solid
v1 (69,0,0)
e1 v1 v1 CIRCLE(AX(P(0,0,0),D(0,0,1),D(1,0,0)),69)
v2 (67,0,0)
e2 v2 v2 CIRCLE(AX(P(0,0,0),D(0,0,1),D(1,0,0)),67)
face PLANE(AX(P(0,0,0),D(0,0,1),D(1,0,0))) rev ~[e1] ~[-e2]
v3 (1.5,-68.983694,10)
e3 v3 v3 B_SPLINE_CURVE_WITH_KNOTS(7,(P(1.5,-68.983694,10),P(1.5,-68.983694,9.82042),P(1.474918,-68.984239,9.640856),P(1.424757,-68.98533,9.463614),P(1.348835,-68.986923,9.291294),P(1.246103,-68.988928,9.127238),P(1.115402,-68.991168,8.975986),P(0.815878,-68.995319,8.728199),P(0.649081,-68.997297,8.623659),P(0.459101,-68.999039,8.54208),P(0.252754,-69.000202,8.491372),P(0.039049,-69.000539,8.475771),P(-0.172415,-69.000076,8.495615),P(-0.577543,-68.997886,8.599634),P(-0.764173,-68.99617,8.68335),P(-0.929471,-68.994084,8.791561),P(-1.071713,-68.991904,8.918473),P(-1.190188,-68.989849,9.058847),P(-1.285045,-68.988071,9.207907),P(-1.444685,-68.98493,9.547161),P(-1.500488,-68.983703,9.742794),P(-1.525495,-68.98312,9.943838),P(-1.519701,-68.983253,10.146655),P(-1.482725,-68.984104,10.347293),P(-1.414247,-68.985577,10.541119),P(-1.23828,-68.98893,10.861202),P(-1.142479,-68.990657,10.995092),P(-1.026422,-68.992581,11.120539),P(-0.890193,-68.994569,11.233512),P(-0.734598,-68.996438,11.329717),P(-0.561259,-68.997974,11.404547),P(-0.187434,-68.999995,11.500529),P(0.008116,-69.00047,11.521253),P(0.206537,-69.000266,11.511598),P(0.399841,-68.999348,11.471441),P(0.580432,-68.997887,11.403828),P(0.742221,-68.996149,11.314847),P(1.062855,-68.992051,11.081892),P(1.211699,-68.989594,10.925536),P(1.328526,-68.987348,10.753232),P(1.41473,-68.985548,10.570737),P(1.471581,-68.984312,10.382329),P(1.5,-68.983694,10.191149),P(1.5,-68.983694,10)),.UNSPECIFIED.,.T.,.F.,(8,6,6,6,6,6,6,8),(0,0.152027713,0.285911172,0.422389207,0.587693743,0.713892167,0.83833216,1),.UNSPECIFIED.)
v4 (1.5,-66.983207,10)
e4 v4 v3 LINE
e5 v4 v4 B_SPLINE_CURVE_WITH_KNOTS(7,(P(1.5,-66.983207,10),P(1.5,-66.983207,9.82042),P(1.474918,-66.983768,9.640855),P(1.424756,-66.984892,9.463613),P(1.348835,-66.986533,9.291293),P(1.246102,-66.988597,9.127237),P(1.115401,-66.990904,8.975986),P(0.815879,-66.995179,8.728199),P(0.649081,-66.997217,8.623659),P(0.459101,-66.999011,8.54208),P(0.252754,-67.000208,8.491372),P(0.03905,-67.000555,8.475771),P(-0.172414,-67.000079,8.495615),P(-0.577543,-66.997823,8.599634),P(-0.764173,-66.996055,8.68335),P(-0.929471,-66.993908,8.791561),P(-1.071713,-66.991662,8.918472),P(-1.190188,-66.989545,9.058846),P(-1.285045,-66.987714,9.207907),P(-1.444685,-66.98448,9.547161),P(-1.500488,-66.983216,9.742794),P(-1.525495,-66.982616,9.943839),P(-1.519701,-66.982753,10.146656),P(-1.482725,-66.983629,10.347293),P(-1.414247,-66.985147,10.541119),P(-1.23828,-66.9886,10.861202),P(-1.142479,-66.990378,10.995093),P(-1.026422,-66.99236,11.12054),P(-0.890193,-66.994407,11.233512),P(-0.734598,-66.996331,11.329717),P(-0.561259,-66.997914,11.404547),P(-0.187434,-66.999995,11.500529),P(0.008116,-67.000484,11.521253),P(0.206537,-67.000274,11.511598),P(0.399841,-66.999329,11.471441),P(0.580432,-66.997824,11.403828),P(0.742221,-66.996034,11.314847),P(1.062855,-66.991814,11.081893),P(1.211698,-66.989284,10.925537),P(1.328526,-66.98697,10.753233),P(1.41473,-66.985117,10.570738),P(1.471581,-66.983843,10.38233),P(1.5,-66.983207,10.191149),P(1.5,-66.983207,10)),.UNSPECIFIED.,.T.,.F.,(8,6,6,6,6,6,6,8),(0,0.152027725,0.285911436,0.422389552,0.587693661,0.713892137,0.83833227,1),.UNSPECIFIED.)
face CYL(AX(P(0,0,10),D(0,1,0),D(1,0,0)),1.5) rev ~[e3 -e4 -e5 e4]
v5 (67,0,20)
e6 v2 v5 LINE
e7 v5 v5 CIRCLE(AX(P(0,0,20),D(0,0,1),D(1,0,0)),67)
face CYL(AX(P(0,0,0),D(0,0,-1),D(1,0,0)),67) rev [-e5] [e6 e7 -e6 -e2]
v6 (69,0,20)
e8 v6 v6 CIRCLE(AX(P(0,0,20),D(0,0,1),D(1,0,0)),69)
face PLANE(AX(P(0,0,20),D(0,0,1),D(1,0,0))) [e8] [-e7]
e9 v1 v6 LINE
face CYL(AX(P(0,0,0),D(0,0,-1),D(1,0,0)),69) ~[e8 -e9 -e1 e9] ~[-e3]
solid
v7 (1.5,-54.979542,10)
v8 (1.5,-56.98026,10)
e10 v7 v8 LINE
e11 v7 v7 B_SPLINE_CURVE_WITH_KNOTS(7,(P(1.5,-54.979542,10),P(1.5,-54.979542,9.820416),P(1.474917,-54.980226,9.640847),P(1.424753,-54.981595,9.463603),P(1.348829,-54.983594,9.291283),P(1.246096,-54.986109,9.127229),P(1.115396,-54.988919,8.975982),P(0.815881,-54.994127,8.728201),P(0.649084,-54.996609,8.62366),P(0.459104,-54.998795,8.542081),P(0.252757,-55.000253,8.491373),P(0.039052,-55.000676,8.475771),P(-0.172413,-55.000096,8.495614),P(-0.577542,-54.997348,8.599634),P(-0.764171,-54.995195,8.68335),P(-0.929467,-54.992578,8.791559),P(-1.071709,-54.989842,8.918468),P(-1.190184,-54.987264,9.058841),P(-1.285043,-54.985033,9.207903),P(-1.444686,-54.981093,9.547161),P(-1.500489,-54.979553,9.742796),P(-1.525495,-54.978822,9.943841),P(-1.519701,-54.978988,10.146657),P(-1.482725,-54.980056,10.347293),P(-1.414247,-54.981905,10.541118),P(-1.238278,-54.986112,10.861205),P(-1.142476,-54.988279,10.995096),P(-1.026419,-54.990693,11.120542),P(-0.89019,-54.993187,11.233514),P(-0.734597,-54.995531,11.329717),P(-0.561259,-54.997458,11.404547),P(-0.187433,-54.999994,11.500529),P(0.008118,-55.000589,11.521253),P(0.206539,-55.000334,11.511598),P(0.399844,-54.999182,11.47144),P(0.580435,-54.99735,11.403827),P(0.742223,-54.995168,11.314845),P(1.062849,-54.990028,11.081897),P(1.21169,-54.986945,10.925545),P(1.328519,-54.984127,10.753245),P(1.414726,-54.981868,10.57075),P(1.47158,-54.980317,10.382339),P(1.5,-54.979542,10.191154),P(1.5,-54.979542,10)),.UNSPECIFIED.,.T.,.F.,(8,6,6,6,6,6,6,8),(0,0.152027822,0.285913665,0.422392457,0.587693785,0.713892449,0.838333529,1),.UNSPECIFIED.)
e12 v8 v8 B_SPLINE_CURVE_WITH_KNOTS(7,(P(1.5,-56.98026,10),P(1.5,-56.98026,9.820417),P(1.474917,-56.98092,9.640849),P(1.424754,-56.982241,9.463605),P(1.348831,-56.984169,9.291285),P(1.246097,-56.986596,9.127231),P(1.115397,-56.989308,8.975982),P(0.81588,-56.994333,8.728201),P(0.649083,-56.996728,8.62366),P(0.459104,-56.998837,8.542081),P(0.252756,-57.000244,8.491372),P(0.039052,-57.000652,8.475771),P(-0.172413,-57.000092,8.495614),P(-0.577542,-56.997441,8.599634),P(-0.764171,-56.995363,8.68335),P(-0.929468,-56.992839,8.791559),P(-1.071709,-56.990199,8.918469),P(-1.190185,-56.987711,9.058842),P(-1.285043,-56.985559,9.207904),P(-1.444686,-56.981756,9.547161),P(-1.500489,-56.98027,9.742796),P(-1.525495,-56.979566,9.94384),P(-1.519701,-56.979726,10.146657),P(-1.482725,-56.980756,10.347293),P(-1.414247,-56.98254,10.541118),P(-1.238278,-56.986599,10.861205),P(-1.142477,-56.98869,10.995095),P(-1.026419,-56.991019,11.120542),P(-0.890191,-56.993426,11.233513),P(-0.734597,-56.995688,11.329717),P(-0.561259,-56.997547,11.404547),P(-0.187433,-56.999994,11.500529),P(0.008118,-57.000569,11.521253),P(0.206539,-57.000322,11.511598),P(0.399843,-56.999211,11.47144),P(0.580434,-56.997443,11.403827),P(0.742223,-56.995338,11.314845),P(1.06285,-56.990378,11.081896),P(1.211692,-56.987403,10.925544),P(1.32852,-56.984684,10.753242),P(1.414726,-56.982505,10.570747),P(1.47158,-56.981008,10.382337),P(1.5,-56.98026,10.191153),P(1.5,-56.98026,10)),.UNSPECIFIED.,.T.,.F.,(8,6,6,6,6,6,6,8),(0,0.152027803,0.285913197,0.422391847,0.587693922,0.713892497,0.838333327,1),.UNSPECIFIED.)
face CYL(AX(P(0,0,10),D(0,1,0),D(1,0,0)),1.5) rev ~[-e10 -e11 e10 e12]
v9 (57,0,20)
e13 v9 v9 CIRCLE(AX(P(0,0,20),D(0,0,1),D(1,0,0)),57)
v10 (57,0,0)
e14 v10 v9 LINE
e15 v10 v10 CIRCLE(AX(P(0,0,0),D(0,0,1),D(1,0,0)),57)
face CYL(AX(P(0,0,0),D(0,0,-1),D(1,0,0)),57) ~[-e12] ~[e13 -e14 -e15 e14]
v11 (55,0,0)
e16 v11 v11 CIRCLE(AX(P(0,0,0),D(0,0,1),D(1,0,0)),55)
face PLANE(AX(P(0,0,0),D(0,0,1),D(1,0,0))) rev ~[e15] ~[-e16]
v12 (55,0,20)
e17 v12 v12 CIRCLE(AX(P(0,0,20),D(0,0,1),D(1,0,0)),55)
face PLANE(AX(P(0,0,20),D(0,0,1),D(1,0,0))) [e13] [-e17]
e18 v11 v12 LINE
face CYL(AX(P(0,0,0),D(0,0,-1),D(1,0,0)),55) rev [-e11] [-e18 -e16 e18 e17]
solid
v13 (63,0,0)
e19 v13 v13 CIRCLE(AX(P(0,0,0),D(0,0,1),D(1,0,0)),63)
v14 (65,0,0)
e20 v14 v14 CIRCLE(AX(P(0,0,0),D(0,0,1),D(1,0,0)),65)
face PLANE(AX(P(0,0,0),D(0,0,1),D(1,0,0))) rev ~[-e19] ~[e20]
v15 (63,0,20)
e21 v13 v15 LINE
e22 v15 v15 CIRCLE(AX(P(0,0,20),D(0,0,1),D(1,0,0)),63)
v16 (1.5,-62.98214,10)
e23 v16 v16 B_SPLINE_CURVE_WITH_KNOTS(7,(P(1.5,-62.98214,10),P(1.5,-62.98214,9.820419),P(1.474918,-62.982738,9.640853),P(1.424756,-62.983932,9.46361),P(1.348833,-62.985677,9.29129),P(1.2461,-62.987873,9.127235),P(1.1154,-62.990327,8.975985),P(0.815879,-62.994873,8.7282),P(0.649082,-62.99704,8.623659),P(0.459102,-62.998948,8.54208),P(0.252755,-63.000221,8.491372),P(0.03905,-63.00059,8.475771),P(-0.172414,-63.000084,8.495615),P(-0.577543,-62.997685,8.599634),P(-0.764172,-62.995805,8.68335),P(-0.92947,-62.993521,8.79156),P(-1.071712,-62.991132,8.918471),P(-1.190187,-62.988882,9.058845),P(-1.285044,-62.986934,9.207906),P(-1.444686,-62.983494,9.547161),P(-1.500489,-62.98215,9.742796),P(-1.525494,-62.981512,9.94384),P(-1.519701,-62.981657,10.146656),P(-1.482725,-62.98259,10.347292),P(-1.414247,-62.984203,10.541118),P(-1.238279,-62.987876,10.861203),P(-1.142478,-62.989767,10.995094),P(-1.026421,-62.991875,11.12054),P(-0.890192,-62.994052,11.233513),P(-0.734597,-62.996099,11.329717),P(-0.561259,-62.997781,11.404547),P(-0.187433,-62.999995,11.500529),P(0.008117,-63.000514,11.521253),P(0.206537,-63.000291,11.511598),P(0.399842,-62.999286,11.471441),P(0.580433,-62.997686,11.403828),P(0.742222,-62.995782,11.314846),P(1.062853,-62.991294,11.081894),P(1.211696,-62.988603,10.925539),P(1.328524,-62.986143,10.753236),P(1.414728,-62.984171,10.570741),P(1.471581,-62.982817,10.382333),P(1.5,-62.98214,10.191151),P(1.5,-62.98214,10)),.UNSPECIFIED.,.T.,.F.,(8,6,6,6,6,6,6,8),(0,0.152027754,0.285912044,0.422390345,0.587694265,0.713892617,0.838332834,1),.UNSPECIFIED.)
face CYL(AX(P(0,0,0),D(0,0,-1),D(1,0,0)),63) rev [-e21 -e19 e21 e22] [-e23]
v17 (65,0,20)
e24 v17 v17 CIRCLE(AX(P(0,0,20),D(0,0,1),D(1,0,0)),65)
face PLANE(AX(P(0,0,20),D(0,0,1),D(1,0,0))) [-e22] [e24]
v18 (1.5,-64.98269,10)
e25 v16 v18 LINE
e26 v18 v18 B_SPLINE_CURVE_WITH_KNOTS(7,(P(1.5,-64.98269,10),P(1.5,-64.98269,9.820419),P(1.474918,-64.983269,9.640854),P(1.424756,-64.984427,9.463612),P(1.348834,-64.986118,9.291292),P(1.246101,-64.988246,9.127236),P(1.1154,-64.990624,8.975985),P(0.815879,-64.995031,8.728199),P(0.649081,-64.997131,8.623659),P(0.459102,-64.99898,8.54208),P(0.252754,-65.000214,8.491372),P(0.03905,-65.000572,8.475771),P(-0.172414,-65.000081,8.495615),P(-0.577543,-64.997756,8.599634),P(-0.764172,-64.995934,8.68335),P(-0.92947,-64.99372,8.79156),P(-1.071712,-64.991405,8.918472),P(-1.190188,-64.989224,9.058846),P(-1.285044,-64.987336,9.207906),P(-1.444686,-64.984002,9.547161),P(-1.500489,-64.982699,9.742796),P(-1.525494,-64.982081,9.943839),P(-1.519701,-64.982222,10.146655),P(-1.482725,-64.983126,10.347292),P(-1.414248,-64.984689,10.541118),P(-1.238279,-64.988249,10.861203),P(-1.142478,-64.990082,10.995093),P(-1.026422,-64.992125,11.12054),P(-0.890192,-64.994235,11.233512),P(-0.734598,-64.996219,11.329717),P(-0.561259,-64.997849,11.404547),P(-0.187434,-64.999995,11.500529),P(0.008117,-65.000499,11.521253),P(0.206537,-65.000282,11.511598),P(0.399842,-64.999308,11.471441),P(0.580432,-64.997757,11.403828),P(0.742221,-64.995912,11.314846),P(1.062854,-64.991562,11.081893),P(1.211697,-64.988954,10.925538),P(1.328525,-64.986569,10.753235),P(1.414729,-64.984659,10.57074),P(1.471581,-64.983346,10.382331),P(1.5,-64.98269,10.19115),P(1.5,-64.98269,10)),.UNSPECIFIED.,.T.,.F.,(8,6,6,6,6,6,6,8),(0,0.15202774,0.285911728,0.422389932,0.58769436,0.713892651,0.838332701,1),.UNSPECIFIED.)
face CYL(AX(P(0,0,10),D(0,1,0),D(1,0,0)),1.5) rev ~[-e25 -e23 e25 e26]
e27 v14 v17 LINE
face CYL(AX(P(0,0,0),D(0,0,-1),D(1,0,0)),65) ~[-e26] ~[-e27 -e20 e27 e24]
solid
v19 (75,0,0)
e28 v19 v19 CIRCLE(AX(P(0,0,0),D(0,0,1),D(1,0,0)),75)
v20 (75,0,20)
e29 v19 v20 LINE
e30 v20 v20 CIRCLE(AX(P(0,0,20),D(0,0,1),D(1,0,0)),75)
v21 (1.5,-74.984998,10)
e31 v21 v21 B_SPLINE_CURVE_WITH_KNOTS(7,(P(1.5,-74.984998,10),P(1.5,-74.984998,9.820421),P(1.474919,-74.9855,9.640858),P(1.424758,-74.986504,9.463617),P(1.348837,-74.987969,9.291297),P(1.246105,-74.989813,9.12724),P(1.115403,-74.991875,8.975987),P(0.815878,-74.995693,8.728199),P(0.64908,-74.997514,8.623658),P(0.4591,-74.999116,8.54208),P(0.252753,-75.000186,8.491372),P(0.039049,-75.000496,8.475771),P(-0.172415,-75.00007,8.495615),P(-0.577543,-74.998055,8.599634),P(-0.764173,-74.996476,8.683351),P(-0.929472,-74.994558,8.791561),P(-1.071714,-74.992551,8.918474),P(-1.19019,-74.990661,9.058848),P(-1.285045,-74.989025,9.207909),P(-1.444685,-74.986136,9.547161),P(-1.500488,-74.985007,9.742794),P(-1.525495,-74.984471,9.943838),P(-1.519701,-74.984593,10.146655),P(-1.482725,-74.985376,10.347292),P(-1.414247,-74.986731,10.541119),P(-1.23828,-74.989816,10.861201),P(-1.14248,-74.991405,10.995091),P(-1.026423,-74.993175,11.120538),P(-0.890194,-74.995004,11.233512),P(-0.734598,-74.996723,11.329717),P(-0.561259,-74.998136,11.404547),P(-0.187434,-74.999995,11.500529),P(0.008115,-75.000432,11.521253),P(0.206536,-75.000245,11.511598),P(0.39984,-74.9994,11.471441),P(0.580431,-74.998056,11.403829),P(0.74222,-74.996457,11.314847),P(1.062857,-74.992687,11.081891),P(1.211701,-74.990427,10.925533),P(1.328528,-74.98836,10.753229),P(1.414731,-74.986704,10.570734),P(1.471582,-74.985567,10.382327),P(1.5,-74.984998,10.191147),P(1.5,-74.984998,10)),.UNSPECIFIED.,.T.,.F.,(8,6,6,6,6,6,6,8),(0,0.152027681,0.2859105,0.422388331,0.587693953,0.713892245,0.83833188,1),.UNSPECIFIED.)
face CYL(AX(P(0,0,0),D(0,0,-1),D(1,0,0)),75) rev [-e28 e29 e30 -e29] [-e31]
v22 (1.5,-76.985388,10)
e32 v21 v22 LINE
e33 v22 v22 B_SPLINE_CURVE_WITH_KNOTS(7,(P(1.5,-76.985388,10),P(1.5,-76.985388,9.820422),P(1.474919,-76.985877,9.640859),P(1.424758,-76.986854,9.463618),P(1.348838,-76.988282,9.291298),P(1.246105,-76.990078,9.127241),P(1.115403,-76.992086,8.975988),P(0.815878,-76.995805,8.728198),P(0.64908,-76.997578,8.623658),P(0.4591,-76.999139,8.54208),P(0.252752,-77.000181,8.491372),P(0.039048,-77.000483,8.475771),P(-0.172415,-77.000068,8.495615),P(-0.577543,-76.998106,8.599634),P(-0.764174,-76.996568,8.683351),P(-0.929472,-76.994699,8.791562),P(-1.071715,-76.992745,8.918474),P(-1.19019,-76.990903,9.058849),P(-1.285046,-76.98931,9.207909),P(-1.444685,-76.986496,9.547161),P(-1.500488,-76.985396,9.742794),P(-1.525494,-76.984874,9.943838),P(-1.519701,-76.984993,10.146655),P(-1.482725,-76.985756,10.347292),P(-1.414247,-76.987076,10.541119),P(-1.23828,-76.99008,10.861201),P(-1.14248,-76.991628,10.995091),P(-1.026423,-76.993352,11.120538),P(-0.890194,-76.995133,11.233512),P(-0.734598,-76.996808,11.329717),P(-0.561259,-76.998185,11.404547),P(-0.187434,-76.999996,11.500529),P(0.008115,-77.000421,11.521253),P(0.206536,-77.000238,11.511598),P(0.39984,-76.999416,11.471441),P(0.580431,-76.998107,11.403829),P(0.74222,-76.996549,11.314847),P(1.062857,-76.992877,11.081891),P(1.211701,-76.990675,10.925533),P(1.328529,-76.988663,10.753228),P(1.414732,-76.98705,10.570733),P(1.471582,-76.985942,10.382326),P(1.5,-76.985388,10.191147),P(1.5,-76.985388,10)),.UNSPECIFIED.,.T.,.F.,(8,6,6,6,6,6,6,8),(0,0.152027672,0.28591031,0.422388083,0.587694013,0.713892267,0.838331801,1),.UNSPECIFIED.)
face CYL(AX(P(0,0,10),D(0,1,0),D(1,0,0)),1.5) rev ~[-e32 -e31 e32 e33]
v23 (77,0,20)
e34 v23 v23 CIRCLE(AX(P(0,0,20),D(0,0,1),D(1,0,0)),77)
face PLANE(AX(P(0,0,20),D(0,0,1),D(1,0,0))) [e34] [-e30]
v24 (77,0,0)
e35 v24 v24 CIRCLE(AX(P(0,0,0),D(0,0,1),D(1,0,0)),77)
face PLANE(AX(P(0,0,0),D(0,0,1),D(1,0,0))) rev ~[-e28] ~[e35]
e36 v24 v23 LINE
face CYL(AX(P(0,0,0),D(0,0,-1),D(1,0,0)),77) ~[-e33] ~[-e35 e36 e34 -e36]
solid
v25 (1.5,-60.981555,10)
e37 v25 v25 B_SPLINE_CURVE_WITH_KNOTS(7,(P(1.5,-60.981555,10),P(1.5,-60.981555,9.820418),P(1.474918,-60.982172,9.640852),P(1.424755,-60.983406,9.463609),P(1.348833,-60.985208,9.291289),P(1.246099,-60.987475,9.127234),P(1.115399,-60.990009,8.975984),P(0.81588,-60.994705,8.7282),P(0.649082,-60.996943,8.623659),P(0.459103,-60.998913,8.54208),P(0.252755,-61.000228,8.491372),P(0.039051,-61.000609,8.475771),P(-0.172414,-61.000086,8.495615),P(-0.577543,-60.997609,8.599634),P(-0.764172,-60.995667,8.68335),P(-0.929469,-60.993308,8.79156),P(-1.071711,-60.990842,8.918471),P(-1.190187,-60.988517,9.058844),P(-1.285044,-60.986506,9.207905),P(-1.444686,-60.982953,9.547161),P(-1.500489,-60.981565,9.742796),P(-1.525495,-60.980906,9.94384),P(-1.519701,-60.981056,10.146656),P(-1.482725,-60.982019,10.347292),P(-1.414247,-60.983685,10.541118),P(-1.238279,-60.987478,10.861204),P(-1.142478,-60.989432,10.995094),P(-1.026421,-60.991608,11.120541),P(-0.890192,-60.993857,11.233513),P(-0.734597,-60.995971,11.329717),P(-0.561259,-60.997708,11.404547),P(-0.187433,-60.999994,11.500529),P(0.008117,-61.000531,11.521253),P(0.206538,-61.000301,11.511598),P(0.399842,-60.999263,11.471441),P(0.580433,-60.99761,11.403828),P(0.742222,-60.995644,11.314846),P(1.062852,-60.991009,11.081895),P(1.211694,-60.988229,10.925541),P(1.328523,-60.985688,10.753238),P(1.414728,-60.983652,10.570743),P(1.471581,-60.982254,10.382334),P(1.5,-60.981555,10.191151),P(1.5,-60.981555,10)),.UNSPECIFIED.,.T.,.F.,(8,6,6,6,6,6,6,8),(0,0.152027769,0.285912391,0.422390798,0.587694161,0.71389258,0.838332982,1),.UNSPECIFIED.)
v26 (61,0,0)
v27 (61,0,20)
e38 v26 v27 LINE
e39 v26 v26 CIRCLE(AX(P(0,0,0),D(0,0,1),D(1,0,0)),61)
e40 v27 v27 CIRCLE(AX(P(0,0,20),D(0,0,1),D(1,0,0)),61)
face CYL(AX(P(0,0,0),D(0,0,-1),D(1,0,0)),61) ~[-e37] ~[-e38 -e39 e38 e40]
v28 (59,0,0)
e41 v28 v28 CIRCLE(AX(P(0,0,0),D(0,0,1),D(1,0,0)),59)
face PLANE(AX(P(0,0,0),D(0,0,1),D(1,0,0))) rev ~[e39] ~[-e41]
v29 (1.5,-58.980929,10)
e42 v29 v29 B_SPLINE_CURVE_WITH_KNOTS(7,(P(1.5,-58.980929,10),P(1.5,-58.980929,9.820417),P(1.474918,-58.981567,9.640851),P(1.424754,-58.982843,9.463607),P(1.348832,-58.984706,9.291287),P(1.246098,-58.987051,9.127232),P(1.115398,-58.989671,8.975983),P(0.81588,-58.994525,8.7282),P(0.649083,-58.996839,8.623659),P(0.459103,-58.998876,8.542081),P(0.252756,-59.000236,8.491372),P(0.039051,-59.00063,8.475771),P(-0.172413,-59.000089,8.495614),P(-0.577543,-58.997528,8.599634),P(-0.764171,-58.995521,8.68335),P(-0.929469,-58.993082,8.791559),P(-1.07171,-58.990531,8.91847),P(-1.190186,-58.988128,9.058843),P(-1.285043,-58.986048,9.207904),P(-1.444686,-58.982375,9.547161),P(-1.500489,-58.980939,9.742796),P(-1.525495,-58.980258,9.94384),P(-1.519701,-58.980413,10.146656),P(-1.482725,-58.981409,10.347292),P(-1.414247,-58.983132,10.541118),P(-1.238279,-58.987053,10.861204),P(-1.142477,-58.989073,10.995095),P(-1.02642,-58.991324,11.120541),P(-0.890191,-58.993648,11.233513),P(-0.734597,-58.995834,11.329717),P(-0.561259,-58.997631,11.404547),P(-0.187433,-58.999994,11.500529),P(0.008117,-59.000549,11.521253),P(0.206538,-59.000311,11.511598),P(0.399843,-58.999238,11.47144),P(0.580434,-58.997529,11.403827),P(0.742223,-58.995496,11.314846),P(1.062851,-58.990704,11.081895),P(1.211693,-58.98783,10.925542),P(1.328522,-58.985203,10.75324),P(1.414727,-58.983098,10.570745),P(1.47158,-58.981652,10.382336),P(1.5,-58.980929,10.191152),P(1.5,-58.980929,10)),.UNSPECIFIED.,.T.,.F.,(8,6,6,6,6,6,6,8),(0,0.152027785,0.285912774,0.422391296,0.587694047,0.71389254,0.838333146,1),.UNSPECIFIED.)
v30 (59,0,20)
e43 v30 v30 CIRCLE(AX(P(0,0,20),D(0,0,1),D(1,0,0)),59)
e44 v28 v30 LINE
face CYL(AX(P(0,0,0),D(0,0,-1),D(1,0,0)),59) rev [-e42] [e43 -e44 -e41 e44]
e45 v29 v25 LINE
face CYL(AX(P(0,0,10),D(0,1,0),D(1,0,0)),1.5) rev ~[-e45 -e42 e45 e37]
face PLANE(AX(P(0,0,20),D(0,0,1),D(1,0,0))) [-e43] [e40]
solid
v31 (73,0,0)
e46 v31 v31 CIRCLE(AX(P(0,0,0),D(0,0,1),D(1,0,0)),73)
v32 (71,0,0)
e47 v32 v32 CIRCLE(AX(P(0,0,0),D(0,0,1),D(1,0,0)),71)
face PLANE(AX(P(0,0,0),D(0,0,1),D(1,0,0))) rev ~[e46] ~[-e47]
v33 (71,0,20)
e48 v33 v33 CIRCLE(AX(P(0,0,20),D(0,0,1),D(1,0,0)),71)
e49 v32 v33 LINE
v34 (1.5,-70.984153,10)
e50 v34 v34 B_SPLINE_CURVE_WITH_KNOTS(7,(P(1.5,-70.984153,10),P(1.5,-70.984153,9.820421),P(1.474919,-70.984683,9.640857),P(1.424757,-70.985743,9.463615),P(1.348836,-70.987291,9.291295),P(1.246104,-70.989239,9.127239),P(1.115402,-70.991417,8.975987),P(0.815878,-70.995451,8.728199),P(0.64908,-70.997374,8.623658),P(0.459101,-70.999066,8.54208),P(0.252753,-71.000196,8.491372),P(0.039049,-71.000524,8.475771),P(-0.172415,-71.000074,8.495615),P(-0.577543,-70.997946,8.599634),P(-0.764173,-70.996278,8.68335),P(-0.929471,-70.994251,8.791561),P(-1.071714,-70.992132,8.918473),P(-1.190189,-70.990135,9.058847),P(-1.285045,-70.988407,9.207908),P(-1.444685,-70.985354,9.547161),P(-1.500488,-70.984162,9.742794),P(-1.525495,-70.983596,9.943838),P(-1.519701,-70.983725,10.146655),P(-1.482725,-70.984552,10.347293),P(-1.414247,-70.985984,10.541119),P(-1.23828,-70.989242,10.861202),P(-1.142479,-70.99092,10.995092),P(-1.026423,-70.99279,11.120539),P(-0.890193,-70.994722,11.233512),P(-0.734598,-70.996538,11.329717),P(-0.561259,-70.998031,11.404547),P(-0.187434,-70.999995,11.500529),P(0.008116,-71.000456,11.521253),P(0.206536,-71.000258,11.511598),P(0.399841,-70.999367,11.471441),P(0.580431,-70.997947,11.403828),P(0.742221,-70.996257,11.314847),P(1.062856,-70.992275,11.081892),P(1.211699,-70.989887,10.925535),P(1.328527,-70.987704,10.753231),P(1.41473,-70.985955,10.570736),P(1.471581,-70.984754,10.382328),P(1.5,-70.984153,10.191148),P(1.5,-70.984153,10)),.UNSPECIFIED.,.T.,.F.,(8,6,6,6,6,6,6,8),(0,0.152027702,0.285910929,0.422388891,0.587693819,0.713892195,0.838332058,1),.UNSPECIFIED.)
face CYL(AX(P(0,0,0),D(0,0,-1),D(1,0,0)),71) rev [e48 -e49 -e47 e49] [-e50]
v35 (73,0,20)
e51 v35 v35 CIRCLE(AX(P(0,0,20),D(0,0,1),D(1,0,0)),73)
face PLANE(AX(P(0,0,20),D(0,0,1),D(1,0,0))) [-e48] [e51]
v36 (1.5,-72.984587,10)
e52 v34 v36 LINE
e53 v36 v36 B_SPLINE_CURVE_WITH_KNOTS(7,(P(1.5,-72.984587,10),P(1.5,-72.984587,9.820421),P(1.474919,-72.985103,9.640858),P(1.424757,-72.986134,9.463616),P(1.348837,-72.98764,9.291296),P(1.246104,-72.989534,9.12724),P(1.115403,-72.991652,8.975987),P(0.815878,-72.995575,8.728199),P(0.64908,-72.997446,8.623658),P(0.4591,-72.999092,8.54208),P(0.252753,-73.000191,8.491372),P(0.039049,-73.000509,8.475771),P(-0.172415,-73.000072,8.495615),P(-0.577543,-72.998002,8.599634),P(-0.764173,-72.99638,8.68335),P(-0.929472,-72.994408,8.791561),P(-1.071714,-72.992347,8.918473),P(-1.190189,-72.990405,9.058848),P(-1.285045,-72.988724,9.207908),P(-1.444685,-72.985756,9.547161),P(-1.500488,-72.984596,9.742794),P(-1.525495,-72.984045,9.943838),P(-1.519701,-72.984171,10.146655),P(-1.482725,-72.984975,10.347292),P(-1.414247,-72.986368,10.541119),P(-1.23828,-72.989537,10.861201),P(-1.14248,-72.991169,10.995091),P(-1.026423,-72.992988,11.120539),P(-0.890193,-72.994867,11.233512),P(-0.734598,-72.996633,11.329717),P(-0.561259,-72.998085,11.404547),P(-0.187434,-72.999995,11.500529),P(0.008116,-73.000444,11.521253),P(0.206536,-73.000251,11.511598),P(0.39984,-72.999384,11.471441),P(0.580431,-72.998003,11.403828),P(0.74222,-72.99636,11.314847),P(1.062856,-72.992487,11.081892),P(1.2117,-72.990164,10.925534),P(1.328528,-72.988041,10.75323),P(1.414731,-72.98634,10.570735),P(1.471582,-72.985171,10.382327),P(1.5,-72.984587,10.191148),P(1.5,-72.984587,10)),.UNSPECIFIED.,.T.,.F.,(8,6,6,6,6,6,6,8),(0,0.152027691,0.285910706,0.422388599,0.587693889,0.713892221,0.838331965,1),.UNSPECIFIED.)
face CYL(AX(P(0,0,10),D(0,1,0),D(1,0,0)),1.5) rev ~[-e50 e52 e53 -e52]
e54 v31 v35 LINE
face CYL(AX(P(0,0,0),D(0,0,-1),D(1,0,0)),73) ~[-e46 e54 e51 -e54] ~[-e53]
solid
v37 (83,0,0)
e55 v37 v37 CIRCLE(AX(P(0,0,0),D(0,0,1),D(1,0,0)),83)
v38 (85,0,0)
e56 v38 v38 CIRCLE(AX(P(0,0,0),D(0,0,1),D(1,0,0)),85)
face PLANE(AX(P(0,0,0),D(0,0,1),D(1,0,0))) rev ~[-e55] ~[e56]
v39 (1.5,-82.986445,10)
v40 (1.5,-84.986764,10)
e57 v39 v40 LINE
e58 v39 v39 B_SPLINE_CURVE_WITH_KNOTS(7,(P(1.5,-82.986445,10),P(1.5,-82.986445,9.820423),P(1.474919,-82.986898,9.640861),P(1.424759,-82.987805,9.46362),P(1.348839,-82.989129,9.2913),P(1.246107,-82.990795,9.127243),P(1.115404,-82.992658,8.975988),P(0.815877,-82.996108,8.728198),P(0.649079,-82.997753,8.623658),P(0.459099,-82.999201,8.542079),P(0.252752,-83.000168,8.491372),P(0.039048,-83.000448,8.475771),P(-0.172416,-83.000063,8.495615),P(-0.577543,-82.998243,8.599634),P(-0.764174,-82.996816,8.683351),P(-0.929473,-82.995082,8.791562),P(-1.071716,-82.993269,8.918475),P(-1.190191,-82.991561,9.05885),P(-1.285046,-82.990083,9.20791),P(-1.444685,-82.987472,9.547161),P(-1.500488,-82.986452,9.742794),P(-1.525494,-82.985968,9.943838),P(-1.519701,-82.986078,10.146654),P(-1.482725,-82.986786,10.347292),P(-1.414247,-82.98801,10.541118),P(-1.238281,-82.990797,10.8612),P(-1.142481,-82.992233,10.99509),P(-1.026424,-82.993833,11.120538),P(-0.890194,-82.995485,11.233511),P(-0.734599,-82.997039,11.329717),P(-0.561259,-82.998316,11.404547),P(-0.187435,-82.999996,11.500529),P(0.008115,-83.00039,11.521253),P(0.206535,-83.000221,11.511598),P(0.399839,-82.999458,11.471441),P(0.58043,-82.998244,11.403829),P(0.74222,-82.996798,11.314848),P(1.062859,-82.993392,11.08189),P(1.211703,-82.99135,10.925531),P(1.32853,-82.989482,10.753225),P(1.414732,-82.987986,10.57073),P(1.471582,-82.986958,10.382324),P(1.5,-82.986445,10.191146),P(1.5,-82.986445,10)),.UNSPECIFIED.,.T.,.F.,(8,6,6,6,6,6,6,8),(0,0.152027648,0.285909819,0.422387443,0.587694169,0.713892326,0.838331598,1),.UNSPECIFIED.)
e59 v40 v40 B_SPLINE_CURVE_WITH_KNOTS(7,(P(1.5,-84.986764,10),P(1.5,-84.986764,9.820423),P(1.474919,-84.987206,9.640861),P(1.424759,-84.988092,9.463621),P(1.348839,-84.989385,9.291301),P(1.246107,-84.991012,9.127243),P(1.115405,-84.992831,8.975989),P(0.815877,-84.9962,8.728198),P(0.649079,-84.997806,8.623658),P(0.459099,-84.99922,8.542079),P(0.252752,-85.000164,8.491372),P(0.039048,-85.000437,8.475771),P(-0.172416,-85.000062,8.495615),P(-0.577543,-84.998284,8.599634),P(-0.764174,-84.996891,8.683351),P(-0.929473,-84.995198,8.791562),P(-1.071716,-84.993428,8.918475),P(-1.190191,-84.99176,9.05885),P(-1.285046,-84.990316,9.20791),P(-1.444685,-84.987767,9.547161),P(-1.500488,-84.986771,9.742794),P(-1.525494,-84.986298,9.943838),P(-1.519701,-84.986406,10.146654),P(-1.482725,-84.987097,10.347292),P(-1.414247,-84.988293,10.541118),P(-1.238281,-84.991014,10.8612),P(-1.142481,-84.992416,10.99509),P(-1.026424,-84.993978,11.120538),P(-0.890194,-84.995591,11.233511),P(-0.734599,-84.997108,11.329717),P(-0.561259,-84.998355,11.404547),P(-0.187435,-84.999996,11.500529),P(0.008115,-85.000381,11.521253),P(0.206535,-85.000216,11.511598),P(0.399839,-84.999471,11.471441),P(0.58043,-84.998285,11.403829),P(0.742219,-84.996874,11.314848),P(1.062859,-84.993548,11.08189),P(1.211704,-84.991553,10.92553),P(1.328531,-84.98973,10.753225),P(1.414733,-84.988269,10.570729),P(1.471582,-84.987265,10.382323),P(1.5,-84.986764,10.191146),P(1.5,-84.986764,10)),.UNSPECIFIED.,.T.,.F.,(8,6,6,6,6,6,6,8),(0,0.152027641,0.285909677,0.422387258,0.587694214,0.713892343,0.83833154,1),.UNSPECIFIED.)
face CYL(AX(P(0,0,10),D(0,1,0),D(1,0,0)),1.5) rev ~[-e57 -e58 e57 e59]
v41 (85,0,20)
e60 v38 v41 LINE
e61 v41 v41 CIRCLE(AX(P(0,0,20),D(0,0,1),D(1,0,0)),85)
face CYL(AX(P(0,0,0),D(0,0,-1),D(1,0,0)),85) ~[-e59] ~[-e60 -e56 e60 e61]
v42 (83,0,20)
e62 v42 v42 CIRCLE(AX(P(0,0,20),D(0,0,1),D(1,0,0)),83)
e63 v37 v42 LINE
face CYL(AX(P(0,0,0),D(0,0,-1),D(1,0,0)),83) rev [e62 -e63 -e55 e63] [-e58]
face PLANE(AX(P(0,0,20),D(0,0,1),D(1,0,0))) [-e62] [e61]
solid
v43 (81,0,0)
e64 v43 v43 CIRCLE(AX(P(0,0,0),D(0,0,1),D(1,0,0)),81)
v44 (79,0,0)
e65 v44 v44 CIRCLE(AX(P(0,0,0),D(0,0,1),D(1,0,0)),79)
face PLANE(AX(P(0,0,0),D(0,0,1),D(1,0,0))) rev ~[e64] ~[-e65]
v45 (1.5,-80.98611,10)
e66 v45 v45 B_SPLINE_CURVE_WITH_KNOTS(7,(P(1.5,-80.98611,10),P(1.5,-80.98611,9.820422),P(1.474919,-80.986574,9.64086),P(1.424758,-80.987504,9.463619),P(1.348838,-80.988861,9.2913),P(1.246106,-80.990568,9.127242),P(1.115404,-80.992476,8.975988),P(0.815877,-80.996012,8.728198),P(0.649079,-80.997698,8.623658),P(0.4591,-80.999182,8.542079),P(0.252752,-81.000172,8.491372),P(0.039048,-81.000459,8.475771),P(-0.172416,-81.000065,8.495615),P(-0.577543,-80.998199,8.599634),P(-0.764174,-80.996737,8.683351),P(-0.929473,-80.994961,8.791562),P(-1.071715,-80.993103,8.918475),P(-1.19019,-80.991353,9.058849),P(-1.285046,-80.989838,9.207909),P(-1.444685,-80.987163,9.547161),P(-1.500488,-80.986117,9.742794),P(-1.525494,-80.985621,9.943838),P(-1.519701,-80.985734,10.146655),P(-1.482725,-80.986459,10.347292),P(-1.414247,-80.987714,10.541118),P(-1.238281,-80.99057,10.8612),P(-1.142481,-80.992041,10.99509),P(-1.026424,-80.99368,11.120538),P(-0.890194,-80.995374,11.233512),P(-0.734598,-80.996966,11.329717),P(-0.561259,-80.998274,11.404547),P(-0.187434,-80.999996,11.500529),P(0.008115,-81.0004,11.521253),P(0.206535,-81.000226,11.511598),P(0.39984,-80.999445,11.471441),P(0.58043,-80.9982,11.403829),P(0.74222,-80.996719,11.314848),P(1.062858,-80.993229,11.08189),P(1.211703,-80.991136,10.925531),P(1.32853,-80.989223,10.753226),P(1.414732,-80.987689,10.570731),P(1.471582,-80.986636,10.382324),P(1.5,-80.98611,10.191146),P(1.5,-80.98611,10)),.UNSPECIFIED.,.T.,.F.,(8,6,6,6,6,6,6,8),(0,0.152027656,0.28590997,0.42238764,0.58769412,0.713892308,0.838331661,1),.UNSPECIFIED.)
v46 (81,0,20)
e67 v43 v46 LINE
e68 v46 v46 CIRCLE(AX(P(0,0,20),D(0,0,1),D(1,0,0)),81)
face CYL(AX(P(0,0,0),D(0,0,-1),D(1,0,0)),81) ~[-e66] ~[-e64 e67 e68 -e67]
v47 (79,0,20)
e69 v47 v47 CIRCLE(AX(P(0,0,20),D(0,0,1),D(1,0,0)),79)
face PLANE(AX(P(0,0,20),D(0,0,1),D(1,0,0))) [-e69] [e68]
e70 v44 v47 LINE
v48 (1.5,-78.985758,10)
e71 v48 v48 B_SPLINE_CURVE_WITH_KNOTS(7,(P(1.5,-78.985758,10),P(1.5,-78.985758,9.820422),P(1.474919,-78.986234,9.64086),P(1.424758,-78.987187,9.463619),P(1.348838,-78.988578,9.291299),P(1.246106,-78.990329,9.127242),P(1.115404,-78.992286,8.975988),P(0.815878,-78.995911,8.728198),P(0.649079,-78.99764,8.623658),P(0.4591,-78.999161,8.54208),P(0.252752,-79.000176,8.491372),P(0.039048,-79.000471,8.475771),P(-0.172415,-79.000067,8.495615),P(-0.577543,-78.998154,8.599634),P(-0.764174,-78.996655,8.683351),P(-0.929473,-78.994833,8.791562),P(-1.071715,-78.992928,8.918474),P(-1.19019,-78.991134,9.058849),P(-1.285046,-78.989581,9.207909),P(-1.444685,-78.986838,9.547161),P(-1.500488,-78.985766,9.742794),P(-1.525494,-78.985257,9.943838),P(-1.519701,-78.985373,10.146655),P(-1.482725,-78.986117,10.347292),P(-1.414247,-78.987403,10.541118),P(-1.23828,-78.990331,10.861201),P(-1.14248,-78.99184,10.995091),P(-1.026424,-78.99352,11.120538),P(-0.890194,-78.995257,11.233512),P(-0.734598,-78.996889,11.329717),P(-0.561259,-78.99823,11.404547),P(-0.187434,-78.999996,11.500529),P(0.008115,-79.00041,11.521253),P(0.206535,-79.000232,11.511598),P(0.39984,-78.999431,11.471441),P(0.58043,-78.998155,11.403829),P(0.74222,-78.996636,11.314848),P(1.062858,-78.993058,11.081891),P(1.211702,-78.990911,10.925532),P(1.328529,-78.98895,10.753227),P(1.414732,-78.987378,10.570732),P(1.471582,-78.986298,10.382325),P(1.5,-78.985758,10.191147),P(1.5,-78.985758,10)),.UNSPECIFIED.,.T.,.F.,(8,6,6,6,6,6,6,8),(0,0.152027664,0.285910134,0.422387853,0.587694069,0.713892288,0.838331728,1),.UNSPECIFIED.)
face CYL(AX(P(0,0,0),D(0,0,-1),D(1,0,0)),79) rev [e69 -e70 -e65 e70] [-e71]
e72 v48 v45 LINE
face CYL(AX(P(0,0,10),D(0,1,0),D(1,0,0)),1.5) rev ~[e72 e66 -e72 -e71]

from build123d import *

# Parameters (mm, degrees)
F0_R       = 85
F0_R_2     = 83
F1_DEPTH   = 20
F0_R_3     = 81
F0_R_4     = 79
F0_R_5     = 77
F0_R_6     = 75
F0_R_7     = 73
F0_R_8     = 71
F0_R_9     = 69
F0_R_10    = 67
F0_R_11    = 65
F0_R_12    = 63
F0_R_13    = 61
F0_R_14    = 59
F0_R_15    = 57
F0_R_16    = 55
F3_D       = 3
F3_DEPTH   = 85.001
F3_2_D     = 3
F3_2_DEPTH = 85.001
F3_3_D     = 3
F3_3_DEPTH = 85.001
F3_4_D     = 3
F3_4_DEPTH = 85.001
F3_5_D     = 3
F3_5_DEPTH = 85.001
F3_6_D     = 3
F3_6_DEPTH = 85.001
F3_7_D     = 3
F3_7_DEPTH = 85.001
F3_8_D     = 3
F3_8_DEPTH = 85.001


with BuildPart() as f1:
    # F0 (on Top) → F1 (new body)
    with BuildSketch(Plane.XY):
        Circle(F0_R)
        Circle(F0_R_2, mode=Mode.SUBTRACT)
    extrude(amount=F1_DEPTH)

    # F3 (through all, one way)
    with BuildSketch(Plane(origin=(0, 0, 0), x_dir=(1, 0, 0), z_dir=(0, 1, 0))):
        with Locations((0, -10)):
            Circle(F3_D / 2)
    extrude(amount=-F3_DEPTH, mode=Mode.SUBTRACT)


with BuildPart() as f1b:
    # F0 (on Top) → F1, piece 2 (new body)
    with BuildSketch(Plane.XY):
        Circle(F0_R_3)
        Circle(F0_R_4, mode=Mode.SUBTRACT)
    extrude(amount=F1_DEPTH)

    # F3#2 (through all, one way)
    with BuildSketch(Plane(origin=(0, 0, 0), x_dir=(1, 0, 0), z_dir=(0, 1, 0))):
        with Locations((0, -10)):
            Circle(F3_2_D / 2)
    extrude(amount=-F3_2_DEPTH, mode=Mode.SUBTRACT)


with BuildPart() as f1c:
    # F0 (on Top) → F1, piece 3 (new body)
    with BuildSketch(Plane.XY):
        Circle(F0_R_5)
        Circle(F0_R_6, mode=Mode.SUBTRACT)
    extrude(amount=F1_DEPTH)

    # F3#3 (through all, one way)
    with BuildSketch(Plane(origin=(0, 0, 0), x_dir=(1, 0, 0), z_dir=(0, 1, 0))):
        with Locations((0, -10)):
            Circle(F3_3_D / 2)
    extrude(amount=-F3_3_DEPTH, mode=Mode.SUBTRACT)


with BuildPart() as f1d:
    # F0 (on Top) → F1, piece 4 (new body)
    with BuildSketch(Plane.XY):
        Circle(F0_R_7)
        Circle(F0_R_8, mode=Mode.SUBTRACT)
    extrude(amount=F1_DEPTH)

    # F3#4 (through all, one way)
    with BuildSketch(Plane(origin=(0, 0, 0), x_dir=(1, 0, 0), z_dir=(0, 1, 0))):
        with Locations((0, -10)):
            Circle(F3_4_D / 2)
    extrude(amount=-F3_4_DEPTH, mode=Mode.SUBTRACT)


with BuildPart() as f1e:
    # F0 (on Top) → F1, piece 5 (new body)
    with BuildSketch(Plane.XY):
        Circle(F0_R_9)
        Circle(F0_R_10, mode=Mode.SUBTRACT)
    extrude(amount=F1_DEPTH)

    # F3#5 (through all, one way)
    with BuildSketch(Plane(origin=(0, 0, 0), x_dir=(1, 0, 0), z_dir=(0, 1, 0))):
        with Locations((0, -10)):
            Circle(F3_5_D / 2)
    extrude(amount=-F3_5_DEPTH, mode=Mode.SUBTRACT)


with BuildPart() as f1f:
    # F0 (on Top) → F1, piece 6 (new body)
    with BuildSketch(Plane.XY):
        Circle(F0_R_11)
        Circle(F0_R_12, mode=Mode.SUBTRACT)
    extrude(amount=F1_DEPTH)

    # F3#6 (through all, one way)
    with BuildSketch(Plane(origin=(0, 0, 0), x_dir=(1, 0, 0), z_dir=(0, 1, 0))):
        with Locations((0, -10)):
            Circle(F3_6_D / 2)
    extrude(amount=-F3_6_DEPTH, mode=Mode.SUBTRACT)


with BuildPart() as f1g:
    # F0 (on Top) → F1, piece 7 (new body)
    with BuildSketch(Plane.XY):
        Circle(F0_R_13)
        Circle(F0_R_14, mode=Mode.SUBTRACT)
    extrude(amount=F1_DEPTH)

    # F3#7 (through all, one way)
    with BuildSketch(Plane(origin=(0, 0, 0), x_dir=(1, 0, 0), z_dir=(0, 1, 0))):
        with Locations((0, -10)):
            Circle(F3_7_D / 2)
    extrude(amount=-F3_7_DEPTH, mode=Mode.SUBTRACT)


with BuildPart() as f1h:
    # F0 (on Top) → F1, piece 8 (new body)
    with BuildSketch(Plane.XY):
        Circle(F0_R_15)
        Circle(F0_R_16, mode=Mode.SUBTRACT)
    extrude(amount=F1_DEPTH)

    # F3#8 (through all, one way)
    with BuildSketch(Plane(origin=(0, 0, 0), x_dir=(1, 0, 0), z_dir=(0, 1, 0))):
        with Locations((0, -10)):
            Circle(F3_8_D / 2)
    extrude(amount=-F3_8_DEPTH, mode=Mode.SUBTRACT)


solid = Compound([f1.part, f1b.part, f1c.part, f1d.part, f1e.part, f1f.part, f1g.part, f1h.part])
